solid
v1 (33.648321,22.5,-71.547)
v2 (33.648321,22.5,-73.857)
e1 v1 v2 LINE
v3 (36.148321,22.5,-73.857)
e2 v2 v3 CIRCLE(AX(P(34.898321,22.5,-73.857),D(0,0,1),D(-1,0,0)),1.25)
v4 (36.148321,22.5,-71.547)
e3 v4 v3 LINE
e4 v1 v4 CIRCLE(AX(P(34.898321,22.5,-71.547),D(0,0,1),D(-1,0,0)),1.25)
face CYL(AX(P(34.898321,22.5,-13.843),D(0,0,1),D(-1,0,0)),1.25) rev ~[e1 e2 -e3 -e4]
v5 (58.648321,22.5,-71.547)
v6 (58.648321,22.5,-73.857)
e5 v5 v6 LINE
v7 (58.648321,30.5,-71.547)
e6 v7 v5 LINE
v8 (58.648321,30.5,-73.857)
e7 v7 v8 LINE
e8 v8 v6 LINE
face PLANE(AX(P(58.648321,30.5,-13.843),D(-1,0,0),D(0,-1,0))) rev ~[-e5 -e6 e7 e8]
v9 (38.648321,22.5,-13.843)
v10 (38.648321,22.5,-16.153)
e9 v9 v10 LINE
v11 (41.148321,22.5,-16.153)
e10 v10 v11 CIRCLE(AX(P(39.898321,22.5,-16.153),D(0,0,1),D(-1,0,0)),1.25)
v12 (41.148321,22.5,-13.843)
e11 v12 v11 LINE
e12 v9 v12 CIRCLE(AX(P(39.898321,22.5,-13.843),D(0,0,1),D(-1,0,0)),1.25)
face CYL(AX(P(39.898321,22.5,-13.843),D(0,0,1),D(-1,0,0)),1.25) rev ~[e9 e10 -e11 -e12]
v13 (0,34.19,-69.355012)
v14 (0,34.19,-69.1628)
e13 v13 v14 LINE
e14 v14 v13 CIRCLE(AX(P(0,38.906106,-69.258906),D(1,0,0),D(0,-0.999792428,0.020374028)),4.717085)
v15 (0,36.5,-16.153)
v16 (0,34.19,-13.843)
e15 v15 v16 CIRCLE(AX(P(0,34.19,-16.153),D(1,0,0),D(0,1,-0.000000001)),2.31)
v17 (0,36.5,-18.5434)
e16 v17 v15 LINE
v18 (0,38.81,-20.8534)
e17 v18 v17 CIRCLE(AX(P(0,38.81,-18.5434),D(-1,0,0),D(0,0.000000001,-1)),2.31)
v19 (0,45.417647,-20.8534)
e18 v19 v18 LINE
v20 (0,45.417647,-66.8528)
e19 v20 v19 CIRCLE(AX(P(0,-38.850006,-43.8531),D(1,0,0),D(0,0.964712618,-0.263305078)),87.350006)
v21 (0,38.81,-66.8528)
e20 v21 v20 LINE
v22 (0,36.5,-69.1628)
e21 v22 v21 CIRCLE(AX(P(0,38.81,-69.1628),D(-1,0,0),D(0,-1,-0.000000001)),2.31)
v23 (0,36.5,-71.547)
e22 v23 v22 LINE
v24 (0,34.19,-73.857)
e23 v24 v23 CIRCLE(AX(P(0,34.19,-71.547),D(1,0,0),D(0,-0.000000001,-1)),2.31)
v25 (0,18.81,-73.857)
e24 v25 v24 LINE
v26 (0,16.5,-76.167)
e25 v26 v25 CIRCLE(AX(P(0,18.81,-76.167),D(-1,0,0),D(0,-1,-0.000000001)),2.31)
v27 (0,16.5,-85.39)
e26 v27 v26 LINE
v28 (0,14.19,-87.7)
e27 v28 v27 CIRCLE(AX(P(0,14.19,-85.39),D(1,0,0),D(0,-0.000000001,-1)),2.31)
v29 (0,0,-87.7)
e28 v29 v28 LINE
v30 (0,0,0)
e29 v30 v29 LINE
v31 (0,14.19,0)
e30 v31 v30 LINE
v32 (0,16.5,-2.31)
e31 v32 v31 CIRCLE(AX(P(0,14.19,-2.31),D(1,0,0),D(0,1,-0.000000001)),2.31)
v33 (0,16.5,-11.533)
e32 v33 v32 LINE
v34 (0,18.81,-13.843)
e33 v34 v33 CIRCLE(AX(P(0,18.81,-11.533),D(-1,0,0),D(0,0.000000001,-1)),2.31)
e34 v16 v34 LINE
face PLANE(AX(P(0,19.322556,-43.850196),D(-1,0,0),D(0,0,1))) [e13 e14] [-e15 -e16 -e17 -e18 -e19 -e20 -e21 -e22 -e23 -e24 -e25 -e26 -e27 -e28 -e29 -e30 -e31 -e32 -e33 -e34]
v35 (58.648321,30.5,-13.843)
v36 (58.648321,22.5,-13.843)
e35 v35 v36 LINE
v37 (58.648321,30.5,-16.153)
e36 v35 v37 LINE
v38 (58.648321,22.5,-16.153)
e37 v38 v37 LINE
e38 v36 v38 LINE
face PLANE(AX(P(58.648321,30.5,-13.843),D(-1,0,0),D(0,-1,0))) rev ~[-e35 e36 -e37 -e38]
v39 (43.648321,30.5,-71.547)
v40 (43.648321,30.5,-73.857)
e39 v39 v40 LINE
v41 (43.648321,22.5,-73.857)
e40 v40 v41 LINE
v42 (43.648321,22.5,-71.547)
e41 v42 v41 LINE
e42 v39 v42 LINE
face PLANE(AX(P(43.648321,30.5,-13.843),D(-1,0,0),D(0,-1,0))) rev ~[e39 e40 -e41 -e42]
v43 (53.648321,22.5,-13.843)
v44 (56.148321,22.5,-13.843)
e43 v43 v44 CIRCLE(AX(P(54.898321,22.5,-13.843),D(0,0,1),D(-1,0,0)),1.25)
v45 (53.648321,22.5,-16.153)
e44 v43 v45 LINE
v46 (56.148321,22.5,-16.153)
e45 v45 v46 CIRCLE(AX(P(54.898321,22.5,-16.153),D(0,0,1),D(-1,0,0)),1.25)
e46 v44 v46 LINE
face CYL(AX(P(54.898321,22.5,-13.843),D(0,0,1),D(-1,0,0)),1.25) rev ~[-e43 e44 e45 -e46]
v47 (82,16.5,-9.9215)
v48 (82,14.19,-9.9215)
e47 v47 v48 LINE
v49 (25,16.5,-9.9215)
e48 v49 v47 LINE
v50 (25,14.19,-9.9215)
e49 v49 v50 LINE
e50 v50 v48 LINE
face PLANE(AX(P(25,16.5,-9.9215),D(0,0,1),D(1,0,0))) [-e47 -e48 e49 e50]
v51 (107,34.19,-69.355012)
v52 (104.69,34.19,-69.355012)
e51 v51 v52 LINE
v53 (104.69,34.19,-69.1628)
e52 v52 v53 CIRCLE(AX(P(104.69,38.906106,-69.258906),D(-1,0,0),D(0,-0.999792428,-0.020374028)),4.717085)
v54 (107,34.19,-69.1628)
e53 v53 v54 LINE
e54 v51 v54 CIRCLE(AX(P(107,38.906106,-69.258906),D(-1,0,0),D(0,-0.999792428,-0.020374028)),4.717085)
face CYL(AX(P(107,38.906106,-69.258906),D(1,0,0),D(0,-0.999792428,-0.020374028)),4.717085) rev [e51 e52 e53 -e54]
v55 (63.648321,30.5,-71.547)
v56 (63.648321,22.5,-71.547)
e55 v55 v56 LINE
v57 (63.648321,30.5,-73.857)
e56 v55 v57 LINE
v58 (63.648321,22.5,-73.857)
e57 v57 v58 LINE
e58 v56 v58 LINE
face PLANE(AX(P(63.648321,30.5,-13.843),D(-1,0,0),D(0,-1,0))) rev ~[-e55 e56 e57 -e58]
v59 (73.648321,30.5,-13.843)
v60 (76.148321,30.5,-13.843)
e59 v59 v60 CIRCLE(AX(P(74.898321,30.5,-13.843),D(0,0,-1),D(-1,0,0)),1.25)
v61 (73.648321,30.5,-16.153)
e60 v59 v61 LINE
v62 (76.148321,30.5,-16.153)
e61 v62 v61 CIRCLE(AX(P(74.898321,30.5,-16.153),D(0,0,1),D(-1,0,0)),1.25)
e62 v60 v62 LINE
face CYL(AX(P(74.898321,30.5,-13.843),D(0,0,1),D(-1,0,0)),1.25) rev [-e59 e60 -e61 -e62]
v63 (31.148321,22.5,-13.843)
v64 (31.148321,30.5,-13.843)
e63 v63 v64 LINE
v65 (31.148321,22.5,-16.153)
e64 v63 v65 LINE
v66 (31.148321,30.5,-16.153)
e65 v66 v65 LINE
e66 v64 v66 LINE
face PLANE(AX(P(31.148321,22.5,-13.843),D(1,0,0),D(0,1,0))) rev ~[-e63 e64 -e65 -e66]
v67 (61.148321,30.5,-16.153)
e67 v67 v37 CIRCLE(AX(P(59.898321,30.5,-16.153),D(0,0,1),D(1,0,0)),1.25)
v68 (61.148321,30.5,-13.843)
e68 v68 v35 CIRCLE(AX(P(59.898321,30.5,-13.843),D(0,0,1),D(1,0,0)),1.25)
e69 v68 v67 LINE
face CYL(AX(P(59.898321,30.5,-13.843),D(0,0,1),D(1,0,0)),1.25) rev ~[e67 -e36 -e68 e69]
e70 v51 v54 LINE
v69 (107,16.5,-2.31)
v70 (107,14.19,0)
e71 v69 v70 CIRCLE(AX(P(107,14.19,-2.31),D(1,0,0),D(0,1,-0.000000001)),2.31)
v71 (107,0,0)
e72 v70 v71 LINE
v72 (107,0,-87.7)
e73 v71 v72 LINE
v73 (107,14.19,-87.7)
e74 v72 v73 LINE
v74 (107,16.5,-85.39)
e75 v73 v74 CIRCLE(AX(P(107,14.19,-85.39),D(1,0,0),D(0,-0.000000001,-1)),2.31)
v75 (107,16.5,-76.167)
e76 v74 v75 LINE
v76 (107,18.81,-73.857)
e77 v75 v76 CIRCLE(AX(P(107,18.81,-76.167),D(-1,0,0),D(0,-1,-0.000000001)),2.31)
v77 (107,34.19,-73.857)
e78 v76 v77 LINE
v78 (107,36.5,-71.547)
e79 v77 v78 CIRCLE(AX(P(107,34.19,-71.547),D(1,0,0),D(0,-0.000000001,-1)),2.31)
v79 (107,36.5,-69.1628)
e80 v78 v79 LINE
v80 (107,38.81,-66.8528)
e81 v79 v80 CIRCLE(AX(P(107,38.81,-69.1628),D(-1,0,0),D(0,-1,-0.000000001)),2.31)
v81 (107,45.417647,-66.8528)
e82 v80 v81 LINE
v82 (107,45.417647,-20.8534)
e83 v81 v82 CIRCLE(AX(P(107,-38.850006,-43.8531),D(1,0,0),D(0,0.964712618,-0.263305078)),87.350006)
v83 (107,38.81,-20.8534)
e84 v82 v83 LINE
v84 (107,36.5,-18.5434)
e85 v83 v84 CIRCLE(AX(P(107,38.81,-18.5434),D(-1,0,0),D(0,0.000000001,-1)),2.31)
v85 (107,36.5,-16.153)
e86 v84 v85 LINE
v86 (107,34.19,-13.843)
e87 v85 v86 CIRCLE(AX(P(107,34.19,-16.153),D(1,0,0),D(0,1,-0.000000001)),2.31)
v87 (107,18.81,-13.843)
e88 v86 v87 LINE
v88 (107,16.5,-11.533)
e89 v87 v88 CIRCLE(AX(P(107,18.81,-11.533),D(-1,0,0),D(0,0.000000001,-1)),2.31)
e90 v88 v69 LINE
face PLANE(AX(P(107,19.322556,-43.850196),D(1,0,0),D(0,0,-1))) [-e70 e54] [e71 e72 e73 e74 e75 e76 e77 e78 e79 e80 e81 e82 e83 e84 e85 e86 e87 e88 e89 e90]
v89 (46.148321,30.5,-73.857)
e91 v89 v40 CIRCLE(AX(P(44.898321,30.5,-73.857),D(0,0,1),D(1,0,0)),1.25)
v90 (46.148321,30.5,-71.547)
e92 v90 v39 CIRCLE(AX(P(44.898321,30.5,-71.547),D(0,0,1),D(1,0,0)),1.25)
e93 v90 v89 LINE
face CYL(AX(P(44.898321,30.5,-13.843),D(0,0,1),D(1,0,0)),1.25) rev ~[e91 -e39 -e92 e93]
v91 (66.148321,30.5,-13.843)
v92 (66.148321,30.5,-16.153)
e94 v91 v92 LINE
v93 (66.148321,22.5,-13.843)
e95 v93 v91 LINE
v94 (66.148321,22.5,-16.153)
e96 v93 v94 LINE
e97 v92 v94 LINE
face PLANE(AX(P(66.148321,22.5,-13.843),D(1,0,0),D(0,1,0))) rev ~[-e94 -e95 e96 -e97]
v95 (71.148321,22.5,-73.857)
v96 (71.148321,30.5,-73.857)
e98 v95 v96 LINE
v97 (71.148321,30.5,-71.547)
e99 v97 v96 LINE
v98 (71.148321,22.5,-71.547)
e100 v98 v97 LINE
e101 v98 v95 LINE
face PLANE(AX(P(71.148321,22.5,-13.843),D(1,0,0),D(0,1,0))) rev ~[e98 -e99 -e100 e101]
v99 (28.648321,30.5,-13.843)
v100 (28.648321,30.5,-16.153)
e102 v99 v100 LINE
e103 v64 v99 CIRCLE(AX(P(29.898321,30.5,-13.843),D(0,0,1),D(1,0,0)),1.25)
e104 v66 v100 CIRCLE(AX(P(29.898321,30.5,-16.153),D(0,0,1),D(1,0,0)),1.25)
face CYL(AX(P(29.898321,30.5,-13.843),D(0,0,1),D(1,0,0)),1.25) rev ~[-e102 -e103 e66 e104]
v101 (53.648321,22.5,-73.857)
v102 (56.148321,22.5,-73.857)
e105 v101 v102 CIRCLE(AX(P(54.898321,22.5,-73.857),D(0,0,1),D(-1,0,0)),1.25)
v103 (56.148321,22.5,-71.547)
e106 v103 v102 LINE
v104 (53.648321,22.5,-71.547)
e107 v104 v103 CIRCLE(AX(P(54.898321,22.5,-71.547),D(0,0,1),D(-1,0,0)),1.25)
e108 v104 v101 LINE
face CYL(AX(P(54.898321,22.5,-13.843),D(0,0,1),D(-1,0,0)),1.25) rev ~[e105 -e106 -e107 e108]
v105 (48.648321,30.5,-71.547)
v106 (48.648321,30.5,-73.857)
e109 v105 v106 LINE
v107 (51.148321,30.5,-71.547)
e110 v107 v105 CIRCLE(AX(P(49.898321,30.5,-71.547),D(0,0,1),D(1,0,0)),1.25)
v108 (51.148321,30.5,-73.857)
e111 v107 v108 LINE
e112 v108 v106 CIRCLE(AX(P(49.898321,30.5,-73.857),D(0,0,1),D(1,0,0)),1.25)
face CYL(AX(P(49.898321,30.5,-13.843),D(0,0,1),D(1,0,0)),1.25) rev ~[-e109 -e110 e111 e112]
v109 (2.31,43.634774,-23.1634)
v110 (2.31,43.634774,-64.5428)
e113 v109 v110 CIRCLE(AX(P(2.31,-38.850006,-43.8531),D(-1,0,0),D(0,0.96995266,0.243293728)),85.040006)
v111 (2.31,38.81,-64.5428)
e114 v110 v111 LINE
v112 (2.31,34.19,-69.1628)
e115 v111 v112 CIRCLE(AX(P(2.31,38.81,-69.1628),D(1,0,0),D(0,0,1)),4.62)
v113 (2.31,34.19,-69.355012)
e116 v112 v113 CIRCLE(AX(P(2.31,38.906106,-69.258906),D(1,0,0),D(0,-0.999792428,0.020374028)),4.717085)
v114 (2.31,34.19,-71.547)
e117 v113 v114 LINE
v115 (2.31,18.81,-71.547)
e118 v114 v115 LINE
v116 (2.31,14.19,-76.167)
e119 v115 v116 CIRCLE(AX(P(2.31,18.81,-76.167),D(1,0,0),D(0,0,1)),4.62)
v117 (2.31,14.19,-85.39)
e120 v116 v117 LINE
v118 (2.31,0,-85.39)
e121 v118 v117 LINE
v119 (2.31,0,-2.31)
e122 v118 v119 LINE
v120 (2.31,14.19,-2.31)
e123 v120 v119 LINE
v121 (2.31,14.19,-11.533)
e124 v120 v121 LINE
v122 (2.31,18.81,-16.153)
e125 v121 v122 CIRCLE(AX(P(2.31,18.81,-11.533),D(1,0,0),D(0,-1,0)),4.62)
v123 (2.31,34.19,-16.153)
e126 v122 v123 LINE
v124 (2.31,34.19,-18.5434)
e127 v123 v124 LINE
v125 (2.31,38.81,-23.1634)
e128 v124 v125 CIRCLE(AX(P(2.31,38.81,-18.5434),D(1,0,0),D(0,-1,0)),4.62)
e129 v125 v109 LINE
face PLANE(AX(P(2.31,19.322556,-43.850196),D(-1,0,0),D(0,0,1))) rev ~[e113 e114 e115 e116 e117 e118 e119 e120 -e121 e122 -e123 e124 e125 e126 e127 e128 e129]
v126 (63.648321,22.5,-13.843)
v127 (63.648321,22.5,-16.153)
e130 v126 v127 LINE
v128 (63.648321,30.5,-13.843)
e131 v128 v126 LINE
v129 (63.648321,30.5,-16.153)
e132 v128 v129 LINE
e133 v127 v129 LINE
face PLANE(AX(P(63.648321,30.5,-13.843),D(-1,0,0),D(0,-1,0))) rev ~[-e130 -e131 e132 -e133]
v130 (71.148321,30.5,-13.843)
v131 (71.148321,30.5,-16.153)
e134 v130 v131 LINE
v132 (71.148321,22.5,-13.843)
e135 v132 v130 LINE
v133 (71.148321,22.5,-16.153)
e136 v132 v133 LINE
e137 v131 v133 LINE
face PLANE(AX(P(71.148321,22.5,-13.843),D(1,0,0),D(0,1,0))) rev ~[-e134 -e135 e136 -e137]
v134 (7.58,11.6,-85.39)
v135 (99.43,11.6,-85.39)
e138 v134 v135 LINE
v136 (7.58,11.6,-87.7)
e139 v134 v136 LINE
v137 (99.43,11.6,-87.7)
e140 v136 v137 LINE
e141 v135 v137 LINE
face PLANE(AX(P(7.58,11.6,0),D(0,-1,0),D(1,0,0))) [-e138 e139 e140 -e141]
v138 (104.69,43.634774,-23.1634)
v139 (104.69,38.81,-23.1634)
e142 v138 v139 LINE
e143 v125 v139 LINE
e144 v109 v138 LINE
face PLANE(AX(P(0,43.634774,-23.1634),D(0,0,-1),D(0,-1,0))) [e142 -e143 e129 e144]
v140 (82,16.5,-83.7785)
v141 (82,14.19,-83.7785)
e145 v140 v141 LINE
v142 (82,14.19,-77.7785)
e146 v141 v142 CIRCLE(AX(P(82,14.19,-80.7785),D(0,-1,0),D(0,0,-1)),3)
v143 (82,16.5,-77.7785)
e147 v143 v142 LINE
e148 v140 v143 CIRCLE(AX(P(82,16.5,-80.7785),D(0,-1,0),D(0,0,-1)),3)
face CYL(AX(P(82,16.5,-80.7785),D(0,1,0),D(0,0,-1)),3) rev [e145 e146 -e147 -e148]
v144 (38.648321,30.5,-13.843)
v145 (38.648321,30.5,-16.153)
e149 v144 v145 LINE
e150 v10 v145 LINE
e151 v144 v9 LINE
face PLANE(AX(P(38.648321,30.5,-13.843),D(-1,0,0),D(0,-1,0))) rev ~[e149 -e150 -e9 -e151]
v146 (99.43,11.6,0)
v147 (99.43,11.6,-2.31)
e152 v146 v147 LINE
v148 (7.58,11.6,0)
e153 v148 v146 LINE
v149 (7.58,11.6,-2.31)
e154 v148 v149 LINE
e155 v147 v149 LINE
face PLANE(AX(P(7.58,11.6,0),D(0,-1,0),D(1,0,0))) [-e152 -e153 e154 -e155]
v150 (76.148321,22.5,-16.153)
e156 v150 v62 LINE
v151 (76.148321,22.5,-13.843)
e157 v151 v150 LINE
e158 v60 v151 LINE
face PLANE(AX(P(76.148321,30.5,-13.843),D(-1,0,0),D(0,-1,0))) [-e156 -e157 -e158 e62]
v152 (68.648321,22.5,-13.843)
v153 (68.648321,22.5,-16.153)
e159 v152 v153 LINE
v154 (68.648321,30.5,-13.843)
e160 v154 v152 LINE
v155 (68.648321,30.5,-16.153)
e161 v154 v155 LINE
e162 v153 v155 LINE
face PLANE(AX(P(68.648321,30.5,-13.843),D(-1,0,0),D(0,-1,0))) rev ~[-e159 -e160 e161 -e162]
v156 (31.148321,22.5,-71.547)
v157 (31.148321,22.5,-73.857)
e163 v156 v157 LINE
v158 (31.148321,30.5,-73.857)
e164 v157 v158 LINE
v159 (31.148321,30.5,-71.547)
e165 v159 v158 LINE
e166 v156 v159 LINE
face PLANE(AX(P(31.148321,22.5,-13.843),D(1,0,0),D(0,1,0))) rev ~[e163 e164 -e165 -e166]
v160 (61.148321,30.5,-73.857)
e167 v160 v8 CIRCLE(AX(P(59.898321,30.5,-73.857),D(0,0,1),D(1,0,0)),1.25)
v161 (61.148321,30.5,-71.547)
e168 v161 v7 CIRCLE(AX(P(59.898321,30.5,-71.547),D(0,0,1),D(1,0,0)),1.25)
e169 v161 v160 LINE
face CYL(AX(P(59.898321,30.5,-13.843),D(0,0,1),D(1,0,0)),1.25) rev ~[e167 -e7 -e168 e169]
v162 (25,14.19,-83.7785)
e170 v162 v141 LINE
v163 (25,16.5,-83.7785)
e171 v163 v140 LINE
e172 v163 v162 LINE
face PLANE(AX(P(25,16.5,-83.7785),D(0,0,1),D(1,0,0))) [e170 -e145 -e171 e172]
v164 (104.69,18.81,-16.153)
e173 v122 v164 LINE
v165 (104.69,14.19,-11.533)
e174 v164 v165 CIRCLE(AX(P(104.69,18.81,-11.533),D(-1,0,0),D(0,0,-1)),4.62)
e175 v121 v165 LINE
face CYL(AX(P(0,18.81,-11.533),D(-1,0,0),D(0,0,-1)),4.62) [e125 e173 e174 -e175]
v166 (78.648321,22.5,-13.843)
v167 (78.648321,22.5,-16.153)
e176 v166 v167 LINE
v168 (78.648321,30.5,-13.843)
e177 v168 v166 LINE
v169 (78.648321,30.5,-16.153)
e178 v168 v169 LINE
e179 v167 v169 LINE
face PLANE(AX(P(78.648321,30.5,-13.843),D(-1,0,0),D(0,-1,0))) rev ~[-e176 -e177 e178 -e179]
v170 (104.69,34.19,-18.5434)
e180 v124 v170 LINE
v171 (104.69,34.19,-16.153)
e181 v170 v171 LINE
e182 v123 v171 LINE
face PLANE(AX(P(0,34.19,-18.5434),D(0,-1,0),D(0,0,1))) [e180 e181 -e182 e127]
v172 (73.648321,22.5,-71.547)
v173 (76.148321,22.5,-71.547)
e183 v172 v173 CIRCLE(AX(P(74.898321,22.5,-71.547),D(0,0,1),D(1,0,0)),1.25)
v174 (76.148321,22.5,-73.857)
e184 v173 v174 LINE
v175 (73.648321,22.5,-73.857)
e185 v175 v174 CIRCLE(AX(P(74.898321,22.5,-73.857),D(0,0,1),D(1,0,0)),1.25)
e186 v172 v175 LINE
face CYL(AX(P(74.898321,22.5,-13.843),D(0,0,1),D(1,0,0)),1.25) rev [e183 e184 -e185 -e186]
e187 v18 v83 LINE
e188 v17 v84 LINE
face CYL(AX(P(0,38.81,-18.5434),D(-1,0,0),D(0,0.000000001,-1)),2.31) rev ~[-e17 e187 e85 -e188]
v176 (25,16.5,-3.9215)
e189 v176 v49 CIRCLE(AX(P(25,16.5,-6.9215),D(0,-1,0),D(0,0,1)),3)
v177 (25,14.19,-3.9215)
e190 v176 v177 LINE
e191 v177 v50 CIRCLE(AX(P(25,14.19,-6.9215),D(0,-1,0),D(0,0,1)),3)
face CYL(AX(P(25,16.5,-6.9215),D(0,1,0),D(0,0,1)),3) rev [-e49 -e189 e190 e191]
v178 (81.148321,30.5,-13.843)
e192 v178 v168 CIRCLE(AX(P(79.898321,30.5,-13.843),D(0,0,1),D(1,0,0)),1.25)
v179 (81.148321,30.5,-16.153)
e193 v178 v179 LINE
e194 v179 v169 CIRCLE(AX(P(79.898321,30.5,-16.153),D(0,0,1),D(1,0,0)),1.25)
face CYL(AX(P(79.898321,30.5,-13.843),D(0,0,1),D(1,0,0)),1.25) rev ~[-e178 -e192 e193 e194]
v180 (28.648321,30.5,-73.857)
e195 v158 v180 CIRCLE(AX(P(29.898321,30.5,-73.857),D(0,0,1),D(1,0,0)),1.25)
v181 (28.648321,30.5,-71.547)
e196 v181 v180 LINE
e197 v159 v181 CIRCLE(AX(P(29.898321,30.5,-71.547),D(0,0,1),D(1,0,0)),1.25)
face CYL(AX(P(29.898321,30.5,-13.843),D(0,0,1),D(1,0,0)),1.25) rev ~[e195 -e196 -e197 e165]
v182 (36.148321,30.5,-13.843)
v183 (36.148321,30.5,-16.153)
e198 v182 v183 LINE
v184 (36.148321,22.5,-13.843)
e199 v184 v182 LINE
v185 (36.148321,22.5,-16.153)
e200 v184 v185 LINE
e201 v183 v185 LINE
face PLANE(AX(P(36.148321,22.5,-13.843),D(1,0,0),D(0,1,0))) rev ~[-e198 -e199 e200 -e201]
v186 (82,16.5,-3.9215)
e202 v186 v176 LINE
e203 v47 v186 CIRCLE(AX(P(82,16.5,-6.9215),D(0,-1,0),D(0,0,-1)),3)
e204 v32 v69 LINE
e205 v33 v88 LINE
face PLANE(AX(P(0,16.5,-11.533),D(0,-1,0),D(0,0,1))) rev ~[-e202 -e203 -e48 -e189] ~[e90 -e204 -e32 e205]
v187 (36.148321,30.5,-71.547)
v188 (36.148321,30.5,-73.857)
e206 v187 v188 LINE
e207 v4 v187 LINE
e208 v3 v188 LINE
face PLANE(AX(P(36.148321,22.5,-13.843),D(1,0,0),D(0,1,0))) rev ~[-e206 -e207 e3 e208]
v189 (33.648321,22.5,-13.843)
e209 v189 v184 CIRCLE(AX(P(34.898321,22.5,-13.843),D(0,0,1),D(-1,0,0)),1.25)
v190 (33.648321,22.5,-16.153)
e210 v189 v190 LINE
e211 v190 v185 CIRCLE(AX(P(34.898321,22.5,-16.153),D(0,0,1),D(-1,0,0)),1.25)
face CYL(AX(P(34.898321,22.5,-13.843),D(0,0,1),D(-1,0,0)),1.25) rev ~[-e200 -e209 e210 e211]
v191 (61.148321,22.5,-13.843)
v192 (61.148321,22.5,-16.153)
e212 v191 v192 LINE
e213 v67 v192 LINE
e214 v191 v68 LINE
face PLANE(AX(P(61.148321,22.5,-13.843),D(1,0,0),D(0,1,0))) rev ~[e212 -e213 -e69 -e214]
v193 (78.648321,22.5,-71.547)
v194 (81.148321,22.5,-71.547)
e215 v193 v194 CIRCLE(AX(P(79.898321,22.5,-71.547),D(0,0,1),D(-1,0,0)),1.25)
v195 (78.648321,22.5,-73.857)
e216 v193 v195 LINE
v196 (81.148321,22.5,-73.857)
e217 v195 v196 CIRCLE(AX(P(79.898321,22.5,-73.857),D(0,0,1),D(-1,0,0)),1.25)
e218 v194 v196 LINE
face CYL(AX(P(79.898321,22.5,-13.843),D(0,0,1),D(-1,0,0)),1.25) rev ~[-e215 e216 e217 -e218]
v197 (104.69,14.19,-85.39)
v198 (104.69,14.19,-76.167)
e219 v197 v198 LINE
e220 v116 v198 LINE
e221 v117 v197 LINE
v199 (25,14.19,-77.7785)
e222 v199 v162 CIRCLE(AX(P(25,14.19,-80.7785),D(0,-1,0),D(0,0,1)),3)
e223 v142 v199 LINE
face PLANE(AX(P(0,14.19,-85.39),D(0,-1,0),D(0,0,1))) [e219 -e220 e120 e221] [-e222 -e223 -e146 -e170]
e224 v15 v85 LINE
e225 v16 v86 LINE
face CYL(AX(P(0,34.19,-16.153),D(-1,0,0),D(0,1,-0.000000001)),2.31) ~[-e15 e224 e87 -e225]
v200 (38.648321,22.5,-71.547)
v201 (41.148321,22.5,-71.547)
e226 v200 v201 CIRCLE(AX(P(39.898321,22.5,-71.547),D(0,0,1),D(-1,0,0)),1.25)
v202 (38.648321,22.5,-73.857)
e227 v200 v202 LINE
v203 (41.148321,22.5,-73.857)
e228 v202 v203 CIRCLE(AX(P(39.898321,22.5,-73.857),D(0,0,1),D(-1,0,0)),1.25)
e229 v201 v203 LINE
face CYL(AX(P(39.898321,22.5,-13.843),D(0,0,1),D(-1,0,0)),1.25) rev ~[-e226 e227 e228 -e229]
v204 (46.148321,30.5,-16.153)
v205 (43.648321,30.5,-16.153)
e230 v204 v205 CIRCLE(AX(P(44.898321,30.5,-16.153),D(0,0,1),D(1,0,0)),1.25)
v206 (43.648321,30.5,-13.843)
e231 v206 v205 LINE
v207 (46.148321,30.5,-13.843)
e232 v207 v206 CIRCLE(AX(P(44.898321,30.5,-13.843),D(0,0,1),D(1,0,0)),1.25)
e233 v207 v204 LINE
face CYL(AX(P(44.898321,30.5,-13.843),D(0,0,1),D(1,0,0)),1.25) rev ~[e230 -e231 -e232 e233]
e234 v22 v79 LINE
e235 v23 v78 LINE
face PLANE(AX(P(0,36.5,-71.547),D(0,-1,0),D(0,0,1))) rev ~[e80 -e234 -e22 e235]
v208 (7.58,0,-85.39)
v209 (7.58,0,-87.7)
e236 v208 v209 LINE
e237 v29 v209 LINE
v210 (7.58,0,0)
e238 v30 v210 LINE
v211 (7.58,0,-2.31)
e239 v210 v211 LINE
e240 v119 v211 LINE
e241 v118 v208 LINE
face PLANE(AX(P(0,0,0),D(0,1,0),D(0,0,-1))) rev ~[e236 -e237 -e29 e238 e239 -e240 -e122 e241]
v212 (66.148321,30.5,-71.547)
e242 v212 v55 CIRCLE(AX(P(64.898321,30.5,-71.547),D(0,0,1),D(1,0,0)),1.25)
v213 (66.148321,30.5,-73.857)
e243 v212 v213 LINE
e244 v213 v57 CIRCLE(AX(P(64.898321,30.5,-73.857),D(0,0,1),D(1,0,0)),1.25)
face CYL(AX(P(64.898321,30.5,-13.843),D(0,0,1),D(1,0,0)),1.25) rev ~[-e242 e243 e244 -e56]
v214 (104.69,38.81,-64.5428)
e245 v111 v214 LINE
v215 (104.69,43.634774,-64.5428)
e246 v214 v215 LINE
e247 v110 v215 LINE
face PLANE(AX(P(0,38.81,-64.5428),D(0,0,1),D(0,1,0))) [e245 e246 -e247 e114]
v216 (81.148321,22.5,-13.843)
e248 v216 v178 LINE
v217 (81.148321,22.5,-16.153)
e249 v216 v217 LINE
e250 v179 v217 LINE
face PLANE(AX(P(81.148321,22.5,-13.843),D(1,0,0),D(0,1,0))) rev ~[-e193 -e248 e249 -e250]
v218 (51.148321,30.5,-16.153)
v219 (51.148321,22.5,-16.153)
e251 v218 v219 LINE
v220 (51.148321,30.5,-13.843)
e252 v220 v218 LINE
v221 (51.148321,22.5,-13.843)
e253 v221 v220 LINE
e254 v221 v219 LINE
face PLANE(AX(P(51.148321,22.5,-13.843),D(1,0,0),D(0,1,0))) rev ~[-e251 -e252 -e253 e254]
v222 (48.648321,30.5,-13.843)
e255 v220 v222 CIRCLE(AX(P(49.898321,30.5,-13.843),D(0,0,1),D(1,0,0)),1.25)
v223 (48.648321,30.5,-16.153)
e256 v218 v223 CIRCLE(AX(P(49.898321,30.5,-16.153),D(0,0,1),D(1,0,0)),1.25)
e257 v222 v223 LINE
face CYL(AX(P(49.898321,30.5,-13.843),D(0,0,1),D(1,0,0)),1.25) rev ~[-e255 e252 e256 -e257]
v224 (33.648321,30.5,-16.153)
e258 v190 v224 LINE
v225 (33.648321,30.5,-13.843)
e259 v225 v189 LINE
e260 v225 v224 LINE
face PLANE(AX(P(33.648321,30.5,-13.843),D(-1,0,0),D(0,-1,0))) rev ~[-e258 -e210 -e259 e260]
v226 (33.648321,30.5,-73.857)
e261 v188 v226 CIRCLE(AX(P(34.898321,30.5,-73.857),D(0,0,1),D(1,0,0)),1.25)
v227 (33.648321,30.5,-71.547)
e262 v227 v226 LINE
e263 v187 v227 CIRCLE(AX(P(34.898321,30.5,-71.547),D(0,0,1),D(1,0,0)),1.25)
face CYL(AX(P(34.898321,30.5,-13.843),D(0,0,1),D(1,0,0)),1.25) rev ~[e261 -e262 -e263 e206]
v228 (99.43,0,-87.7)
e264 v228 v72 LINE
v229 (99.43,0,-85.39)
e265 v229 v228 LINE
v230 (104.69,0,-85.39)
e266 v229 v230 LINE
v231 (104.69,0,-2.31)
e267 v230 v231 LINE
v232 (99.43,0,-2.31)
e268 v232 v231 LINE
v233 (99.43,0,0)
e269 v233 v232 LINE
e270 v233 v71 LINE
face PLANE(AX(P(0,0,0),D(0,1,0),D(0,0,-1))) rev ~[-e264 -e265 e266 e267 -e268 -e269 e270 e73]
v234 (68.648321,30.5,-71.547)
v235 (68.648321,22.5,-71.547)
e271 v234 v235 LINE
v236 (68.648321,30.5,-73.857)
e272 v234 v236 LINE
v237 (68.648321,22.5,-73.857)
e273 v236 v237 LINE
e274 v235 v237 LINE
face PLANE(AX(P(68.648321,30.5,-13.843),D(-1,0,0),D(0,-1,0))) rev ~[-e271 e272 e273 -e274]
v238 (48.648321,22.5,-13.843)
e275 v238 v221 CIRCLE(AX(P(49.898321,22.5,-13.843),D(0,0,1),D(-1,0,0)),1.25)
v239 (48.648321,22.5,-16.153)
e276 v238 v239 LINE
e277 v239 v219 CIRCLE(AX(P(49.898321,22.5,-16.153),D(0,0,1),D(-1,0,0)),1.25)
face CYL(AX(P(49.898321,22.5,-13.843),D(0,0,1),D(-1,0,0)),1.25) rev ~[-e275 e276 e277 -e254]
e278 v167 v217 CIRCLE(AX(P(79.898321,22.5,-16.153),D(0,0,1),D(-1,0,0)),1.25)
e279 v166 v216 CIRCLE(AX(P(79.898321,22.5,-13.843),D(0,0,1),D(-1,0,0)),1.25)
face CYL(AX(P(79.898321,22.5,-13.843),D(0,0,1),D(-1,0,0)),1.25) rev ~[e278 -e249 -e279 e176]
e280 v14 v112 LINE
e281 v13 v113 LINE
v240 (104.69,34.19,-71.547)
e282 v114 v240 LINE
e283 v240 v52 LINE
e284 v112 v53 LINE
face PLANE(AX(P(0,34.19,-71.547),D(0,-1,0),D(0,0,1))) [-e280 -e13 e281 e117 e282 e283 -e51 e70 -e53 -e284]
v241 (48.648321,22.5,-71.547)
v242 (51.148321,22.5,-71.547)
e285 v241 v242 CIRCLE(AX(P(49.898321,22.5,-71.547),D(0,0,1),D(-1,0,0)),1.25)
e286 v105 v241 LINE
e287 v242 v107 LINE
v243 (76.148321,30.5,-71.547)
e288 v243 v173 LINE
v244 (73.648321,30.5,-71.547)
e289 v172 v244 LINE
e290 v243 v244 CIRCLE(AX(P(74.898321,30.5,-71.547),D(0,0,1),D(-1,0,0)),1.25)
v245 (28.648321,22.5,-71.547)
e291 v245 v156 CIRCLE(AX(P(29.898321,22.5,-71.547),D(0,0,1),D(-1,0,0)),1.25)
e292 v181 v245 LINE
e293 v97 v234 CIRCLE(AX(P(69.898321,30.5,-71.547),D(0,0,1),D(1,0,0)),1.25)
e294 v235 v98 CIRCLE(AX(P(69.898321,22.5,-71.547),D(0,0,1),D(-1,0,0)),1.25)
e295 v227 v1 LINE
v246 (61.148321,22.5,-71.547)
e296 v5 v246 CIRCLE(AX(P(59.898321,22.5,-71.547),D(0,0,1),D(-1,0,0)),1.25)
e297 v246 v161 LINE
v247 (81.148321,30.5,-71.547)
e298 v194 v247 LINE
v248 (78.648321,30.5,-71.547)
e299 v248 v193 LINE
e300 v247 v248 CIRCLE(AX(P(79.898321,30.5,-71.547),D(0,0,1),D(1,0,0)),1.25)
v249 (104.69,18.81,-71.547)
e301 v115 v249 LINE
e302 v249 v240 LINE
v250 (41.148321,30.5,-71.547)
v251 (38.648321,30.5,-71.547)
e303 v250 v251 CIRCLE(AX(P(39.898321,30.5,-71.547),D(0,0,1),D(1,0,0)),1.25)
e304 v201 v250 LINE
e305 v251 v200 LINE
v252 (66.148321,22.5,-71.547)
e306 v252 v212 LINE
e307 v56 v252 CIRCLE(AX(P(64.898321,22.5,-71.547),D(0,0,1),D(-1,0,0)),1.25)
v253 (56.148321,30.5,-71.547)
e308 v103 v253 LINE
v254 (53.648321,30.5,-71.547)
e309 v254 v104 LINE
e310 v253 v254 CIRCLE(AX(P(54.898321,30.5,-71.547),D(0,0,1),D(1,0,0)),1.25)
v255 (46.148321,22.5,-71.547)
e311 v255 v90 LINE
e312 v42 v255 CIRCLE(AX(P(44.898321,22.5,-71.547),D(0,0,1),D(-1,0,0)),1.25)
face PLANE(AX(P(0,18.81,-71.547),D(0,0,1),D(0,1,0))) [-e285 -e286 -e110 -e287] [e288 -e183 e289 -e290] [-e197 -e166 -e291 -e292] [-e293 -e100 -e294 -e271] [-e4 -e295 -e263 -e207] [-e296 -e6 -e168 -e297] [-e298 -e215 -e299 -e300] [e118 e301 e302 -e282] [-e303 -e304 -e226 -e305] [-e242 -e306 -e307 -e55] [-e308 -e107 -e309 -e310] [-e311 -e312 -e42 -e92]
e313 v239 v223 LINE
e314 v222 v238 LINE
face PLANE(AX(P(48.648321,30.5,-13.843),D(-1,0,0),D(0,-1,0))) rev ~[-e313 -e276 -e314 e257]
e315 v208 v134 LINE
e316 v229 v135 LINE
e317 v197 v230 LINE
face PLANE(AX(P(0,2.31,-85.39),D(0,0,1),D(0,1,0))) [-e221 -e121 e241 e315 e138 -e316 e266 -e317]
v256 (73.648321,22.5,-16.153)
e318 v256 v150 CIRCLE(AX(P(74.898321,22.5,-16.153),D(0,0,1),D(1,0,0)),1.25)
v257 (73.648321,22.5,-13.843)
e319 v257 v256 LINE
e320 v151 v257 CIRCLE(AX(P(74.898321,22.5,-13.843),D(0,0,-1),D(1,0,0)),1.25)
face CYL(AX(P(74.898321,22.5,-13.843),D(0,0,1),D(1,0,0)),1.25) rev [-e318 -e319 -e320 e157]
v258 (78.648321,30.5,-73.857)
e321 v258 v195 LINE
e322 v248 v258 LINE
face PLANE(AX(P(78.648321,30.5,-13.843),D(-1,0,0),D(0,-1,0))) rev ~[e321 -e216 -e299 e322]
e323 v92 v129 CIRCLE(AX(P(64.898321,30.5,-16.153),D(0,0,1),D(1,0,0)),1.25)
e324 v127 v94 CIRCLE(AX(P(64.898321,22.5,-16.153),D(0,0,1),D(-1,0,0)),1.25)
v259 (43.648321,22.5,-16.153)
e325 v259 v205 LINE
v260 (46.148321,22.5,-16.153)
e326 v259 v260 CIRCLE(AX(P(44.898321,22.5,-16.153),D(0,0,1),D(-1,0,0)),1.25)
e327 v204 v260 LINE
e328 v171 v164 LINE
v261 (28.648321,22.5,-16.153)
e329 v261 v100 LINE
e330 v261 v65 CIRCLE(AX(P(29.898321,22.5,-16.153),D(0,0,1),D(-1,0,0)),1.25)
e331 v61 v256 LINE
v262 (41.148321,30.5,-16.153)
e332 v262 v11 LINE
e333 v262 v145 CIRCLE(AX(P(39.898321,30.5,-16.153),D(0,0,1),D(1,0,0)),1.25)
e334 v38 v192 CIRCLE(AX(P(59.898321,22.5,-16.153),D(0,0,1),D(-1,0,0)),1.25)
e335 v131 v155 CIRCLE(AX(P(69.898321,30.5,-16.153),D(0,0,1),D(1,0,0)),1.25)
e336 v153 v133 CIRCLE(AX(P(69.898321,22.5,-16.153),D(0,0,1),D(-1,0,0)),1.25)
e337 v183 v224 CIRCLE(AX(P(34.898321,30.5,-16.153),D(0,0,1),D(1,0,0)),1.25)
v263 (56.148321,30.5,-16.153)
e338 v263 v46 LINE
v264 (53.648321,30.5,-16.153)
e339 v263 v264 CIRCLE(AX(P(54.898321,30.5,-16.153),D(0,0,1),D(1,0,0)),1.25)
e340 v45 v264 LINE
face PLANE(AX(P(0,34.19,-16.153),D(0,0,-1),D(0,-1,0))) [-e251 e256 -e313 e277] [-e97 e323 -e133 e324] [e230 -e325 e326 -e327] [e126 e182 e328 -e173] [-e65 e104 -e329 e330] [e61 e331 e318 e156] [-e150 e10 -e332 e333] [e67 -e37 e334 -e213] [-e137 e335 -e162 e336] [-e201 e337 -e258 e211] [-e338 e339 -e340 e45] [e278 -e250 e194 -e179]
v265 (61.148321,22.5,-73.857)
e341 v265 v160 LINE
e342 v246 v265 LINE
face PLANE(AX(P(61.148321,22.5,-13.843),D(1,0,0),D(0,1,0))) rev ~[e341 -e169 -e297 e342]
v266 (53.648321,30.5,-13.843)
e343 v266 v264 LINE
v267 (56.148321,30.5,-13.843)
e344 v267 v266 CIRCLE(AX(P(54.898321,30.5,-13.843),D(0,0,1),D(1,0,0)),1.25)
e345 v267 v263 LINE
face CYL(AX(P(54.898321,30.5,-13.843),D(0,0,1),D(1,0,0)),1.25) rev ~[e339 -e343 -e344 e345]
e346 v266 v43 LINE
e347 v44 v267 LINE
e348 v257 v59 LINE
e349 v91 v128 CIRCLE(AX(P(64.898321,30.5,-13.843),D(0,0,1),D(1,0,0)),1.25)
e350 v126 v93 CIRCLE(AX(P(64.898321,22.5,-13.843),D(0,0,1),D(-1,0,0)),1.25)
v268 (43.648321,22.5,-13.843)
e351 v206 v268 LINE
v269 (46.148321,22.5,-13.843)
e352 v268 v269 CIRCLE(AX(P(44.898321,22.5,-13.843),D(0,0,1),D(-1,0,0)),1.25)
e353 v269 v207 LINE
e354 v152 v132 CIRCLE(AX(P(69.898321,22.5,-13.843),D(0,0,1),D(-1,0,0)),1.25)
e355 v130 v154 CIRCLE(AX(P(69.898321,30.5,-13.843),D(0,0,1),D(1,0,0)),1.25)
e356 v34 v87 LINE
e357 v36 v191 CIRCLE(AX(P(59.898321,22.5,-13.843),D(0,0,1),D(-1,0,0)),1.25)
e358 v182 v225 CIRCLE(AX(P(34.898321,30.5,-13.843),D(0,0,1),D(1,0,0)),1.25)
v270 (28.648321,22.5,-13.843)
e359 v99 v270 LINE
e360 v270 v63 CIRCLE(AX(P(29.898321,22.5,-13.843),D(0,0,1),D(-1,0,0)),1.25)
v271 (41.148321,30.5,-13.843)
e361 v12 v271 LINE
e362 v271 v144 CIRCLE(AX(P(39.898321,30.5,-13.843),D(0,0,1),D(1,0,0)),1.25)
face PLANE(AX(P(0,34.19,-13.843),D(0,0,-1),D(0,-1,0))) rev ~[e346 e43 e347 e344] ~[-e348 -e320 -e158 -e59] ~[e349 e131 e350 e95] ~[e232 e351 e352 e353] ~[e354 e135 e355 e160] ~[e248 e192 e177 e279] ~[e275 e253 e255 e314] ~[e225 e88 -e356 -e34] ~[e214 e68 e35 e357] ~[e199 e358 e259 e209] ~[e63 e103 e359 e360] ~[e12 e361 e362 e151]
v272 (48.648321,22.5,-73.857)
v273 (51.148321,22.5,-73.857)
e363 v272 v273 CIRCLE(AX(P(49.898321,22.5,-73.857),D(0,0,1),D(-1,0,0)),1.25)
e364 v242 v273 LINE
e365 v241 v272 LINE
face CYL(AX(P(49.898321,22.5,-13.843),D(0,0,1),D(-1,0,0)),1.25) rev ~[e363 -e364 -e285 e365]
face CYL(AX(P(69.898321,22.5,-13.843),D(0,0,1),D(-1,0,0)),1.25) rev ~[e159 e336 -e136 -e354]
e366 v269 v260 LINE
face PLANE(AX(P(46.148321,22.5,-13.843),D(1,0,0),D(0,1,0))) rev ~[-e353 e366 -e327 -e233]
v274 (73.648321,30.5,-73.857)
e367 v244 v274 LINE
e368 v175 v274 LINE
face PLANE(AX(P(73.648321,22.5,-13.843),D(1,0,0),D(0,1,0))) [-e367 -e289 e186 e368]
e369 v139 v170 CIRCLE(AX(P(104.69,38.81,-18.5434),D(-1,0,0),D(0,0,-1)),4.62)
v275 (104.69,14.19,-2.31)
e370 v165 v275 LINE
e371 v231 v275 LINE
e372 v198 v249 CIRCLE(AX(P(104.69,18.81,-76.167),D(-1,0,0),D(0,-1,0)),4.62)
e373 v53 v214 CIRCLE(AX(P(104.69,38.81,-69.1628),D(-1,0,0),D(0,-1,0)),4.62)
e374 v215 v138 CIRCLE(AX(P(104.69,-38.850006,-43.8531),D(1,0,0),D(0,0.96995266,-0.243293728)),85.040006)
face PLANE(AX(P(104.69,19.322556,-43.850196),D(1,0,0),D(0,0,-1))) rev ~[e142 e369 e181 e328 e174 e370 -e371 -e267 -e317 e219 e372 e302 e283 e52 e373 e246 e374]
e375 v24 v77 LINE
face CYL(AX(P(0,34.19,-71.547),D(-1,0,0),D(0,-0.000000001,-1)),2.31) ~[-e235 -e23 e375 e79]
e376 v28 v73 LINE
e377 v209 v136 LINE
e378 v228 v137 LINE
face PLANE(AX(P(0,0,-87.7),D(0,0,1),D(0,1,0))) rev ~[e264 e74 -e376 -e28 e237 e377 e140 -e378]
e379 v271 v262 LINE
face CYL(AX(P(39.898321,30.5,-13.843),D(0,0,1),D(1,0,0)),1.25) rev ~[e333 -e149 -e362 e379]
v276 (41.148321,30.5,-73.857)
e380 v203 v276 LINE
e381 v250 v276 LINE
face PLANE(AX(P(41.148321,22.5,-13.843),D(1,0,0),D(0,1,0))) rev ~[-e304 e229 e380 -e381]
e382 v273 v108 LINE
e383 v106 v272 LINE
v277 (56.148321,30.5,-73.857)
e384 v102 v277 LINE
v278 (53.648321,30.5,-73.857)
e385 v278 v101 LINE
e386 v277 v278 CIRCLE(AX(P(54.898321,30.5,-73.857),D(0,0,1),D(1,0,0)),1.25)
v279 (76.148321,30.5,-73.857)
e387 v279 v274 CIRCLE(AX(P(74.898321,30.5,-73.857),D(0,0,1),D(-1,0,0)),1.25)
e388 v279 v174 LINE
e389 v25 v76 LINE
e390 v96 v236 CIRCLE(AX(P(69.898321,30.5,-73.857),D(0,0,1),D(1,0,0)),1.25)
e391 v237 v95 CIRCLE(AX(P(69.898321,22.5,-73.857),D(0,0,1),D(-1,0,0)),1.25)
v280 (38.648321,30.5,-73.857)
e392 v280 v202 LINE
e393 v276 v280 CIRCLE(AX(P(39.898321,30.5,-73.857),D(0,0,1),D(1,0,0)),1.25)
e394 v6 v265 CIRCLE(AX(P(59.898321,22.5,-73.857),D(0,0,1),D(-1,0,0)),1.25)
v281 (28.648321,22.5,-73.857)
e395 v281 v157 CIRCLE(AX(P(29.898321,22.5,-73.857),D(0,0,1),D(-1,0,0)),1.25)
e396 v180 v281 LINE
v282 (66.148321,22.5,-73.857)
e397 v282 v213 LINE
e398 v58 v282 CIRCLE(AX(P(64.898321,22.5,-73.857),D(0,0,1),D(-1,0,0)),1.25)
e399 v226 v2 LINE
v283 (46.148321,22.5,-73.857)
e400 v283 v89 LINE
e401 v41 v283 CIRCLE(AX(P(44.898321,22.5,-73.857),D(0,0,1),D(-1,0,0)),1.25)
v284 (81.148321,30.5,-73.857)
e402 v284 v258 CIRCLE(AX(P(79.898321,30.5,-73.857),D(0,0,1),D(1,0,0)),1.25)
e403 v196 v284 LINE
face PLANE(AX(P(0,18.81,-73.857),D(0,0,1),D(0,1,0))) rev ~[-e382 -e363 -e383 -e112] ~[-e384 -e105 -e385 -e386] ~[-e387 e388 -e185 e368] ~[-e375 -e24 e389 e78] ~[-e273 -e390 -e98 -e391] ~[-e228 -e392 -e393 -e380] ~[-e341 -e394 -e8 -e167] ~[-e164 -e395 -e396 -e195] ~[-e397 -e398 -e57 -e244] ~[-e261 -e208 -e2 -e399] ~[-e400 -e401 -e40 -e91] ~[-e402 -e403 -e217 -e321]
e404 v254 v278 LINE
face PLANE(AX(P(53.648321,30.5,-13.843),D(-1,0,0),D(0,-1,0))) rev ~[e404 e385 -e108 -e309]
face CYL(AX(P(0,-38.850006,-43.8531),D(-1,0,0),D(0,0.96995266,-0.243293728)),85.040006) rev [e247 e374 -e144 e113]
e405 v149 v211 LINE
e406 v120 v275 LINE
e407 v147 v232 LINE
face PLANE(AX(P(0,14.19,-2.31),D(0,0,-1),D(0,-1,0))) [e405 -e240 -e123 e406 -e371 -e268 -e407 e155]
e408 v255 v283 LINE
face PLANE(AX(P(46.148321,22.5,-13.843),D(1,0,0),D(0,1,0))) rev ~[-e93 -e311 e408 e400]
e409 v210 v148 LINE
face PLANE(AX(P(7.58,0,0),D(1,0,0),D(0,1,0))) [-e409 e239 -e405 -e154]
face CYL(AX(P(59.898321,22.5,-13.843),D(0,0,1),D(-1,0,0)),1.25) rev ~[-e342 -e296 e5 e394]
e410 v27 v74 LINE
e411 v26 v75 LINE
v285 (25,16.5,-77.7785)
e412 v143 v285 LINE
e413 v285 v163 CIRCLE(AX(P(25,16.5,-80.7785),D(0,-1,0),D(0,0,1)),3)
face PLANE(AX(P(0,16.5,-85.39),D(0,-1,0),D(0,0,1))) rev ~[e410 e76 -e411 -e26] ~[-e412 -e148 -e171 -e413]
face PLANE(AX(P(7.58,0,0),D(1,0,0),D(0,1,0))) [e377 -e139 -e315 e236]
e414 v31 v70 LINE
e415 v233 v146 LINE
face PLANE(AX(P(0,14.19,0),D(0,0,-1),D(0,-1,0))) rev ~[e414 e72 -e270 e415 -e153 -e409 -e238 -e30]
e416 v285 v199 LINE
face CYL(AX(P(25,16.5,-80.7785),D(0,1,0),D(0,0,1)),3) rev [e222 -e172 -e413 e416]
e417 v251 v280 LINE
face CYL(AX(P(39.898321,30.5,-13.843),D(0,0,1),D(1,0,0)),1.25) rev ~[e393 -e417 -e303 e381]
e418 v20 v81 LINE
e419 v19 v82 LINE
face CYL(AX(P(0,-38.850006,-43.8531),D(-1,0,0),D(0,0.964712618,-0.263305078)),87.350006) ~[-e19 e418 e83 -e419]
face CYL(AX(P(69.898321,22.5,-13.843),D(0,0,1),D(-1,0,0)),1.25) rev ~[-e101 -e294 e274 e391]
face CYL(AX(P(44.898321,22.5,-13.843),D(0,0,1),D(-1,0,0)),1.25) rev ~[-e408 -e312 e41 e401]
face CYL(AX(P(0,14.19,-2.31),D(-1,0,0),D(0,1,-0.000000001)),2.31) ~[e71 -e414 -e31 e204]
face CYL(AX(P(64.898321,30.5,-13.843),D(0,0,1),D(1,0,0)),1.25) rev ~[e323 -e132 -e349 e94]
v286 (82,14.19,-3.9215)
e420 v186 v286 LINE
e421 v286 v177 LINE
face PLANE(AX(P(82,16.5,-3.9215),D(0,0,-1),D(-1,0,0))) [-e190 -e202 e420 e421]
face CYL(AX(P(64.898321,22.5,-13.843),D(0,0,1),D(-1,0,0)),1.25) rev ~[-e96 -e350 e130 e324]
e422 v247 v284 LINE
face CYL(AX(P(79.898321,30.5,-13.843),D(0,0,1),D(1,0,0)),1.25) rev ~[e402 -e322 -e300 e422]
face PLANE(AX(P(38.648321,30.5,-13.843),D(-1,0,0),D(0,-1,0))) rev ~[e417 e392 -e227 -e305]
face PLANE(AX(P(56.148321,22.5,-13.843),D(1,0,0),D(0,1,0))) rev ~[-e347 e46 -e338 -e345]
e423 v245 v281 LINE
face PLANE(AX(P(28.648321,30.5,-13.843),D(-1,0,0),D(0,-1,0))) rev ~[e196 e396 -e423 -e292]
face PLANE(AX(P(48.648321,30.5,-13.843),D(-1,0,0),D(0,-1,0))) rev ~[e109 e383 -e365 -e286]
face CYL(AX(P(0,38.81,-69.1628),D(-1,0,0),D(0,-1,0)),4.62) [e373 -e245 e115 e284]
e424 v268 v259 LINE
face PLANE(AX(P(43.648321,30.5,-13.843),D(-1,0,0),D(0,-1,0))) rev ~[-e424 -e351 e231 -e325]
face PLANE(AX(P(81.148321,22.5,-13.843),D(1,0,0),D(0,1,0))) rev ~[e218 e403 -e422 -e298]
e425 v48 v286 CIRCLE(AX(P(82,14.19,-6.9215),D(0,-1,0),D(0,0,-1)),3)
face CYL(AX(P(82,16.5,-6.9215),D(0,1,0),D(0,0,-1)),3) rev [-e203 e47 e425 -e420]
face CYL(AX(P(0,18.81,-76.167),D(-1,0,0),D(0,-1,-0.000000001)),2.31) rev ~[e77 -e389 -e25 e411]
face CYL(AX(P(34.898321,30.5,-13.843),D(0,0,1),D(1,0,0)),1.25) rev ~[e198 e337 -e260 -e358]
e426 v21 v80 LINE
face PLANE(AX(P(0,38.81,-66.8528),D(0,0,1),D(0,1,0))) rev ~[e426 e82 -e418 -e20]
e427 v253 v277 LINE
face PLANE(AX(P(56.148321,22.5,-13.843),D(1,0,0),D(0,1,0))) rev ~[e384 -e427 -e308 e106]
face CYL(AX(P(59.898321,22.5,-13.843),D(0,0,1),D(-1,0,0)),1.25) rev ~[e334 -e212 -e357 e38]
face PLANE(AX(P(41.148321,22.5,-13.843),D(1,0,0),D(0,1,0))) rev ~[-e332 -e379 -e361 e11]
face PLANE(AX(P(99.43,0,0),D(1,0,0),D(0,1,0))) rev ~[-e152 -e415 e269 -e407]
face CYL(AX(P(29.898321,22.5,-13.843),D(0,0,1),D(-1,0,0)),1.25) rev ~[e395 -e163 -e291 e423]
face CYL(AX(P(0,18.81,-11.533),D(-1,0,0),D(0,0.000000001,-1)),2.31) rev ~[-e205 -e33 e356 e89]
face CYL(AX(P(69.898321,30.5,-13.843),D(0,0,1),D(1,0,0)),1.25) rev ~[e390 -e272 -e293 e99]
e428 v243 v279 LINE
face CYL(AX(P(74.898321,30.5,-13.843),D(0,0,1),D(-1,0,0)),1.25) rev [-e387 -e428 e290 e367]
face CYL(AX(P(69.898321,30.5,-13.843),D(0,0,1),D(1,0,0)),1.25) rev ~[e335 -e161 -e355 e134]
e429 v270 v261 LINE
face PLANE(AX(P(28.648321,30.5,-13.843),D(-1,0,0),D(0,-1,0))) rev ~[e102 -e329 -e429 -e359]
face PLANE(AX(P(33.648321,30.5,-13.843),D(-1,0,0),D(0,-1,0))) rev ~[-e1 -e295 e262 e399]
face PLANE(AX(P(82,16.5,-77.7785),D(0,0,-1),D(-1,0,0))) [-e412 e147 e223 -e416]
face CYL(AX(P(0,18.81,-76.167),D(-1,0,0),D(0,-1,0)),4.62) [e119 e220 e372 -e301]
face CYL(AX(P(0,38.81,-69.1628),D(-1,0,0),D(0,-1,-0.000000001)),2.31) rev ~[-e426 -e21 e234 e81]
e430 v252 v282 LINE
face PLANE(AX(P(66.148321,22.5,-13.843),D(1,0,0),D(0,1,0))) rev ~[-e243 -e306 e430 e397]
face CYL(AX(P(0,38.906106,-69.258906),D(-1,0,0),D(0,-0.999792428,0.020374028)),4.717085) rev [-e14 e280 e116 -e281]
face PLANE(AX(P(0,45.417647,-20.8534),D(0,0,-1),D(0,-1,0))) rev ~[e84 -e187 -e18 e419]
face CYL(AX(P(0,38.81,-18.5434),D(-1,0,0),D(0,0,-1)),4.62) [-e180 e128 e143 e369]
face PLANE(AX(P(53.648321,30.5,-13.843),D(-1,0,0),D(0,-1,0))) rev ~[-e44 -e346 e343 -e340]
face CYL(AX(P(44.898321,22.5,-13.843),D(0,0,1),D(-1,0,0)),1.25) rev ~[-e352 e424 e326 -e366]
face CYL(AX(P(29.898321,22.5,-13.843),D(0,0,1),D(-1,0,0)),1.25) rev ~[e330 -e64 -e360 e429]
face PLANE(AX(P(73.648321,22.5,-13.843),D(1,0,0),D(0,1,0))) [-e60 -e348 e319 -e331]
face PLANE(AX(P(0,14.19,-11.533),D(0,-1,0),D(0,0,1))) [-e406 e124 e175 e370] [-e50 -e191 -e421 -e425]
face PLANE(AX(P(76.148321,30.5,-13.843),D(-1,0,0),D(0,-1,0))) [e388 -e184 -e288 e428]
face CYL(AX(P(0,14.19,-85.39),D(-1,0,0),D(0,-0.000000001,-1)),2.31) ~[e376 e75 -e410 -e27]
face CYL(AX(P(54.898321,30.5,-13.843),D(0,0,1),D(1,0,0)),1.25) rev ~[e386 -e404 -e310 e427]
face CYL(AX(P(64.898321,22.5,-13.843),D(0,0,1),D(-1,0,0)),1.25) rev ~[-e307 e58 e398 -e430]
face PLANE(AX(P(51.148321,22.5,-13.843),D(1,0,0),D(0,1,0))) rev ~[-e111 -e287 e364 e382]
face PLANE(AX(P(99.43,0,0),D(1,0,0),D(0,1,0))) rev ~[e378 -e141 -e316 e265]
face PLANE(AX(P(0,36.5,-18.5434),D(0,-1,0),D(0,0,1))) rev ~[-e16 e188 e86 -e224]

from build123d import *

# Parameters (mm, degrees)
BOSS_EXTRUDE4_DEPTH = 107
BOSS_EXTRUDE5_DEPTH = 2.31
SKETCH7_W           = 102.38
SKETCH7_H           = 83.08
CUT_EXTRUDE4_DEPTH  = 2.31
BOSS_EXTRUDE6_DEPTH = 2.31
CUT_EXTRUDE6_DEPTH  = 2.31
CUT_EXTRUDE7_DEPTH  = 70
SKETCH12_W          = 91.85
SKETCH12_H          = 11.6
CUT_EXTRUDE8_DEPTH  = 90


with BuildPart() as part:
    # Sketch1 → Boss-Extrude4 (new body)
    with BuildSketch(Plane(origin=(0, 0, 0), x_dir=(0, 0, -1), z_dir=(1, 0, 0))):
        with BuildLine():
            Line((0, 0), (87.7, 0))
            Line((87.7, 0), (87.7, 14.19))
            ThreePointArc((87.7, 14.19), (87.023416665, 15.823416665), (85.39, 16.5))
            Line((85.39, 16.5), (76.167, 16.5))
            ThreePointArc((76.167, 16.5), (74.533583335, 17.176583335), (73.857, 18.81))
            Line((73.857, 18.81), (73.857, 34.19))
            ThreePointArc((73.857, 34.19), (73.180416665, 35.823416665), (71.547, 36.5))
            Line((71.547, 36.5), (69.1628, 36.5))
            ThreePointArc((69.1628, 36.5), (67.529383335, 37.176583335), (66.8528, 38.81))
            Line((66.8528, 38.81), (66.8528, 45.417647019))
            ThreePointArc((66.8528, 45.417647019), (43.8531, 48.5), (20.8534, 45.417647019))
            Line((20.8534, 45.417647019), (20.8534, 38.81))
            ThreePointArc((20.8534, 38.81), (20.176816665, 37.176583335), (18.5434, 36.5))
            Line((18.5434, 36.5), (16.153, 36.5))
            ThreePointArc((16.153, 36.5), (14.519583335, 35.823416665), (13.843, 34.19))
            Line((13.843, 34.19), (13.843, 18.81))
            ThreePointArc((13.843, 18.81), (13.166416665, 17.176583335), (11.533, 16.5))
            Line((11.533, 16.5), (2.31, 16.5))
            ThreePointArc((2.31, 16.5), (0.676583335, 15.823416665), (0, 14.19))
            Line((0, 14.19), (0, 0))
        make_face()
        with BuildLine():
            Line((16.153, 34.19), (16.153, 18.81))
            ThreePointArc((16.153, 18.81), (14.799833329, 15.543166671), (11.533, 14.19))
            Line((11.533, 14.19), (2.31, 14.19))
            Line((2.31, 14.19), (2.31, 2.31))
            Line((2.31, 2.31), (85.39, 2.31))
            Line((85.39, 2.31), (85.39, 14.19))
            Line((85.39, 14.19), (76.167, 14.19))
            ThreePointArc((76.167, 14.19), (72.900166671, 15.543166671), (71.547, 18.81))
            Line((71.547, 18.81), (71.547, 34.19))
            Line((71.547, 34.19), (69.1628, 34.19))
            ThreePointArc((69.1628, 34.19), (65.895966671, 35.543166671), (64.5428, 38.81))
            Line((64.5428, 38.81), (64.5428, 43.634774003))
            ThreePointArc((64.5428, 43.634774003), (43.8531, 46.19), (23.1634, 43.634774003))
            Line((23.1634, 43.634774003), (23.1634, 38.81))
            ThreePointArc((23.1634, 38.81), (21.810233329, 35.543166671), (18.5434, 34.19))
            Line((18.5434, 34.19), (16.153, 34.19))
        make_face(mode=Mode.SUBTRACT)
    extrude(amount=BOSS_EXTRUDE4_DEPTH)

    # Sketch6 → Boss-Extrude5 (add)
    with BuildSketch(Plane.ZY):
        with BuildLine():
            Line((-85.39, 14.19), (-85.39, 2.31))
            Line((-85.39, 2.31), (-2.31, 2.31))
            Line((-2.31, 2.31), (-2.31, 14.19))
            Line((-2.31, 14.19), (-11.533, 14.19))
            ThreePointArc((-11.533, 14.19), (-14.799833329, 15.543166671), (-16.153, 18.81))
            Line((-16.153, 18.81), (-16.153, 34.19))
            Line((-16.153, 34.19), (-18.5434, 34.19))
            ThreePointArc((-18.5434, 34.19), (-21.810233329, 35.543166671), (-23.1634, 38.81))
            Line((-23.1634, 38.81), (-23.1634, 43.634774003))
            ThreePointArc((-23.1634, 43.634774003), (-43.8531, 46.19), (-64.5428, 43.634774003))
            Line((-64.5428, 43.634774003), (-64.5428, 38.81))
            ThreePointArc((-64.5428, 38.81), (-65.895966671, 35.543166671), (-69.1628, 34.19))
            ThreePointArc((-69.1628, 34.19), (-69.258906021, 34.189020865), (-69.355012042, 34.19))
            Line((-69.355012042, 34.19), (-71.547, 34.19))
            Line((-71.547, 34.19), (-71.547, 18.81))
            ThreePointArc((-71.547, 18.81), (-72.900166671, 15.543166671), (-76.167, 14.19))
            Line((-76.167, 14.19), (-85.39, 14.19))
        make_face()
    extrude(amount=-BOSS_EXTRUDE5_DEPTH)

    # Sketch7 → Cut-Extrude4 (cut)
    with BuildSketch(Plane.XZ):
        with Locations((53.5, -43.85)):
            Rectangle(SKETCH7_W, SKETCH7_H)
    extrude(amount=-CUT_EXTRUDE4_DEPTH, mode=Mode.SUBTRACT)

    # Sketch8 → Boss-Extrude6 (add)
    with BuildSketch(Plane(origin=(107, 0, 0), x_dir=(0, 0, -1), z_dir=(1, 0, 0))):
        with BuildLine():
            Line((2.31, 14.19), (2.31, 2.31))
            Line((2.31, 2.31), (85.39, 2.31))
            Line((85.39, 2.31), (85.39, 14.19))
            Line((85.39, 14.19), (76.167, 14.19))
            ThreePointArc((76.167, 14.19), (72.900166671, 15.543166671), (71.547, 18.81))
            Line((71.547, 18.81), (71.547, 34.19))
            Line((71.547, 34.19), (69.355012042, 34.19))
            ThreePointArc((69.355012042, 34.19), (69.258906021, 34.189020865), (69.1628, 34.19))
            ThreePointArc((69.1628, 34.19), (65.895966671, 35.543166671), (64.5428, 38.81))
            Line((64.5428, 38.81), (64.5428, 43.634774003))
            ThreePointArc((64.5428, 43.634774003), (43.8531, 46.19), (23.1634, 43.634774003))
            Line((23.1634, 43.634774003), (23.1634, 38.81))
            ThreePointArc((23.1634, 38.81), (21.810233329, 35.543166671), (18.5434, 34.19))
            Line((18.5434, 34.19), (16.153, 34.19))
            Line((16.153, 34.19), (16.153, 18.81))
            ThreePointArc((16.153, 18.81), (14.799833329, 15.543166671), (11.533, 14.19))
            Line((11.533, 14.19), (2.31, 14.19))
        make_face()
    extrude(amount=-BOSS_EXTRUDE6_DEPTH)

    # Sketch9 → Cut-Extrude6 (cut)
    with BuildSketch(Plane(origin=(0, 16.5, 0), x_dir=(1, 0, 0), z_dir=(0, 1, 0))):
        with BuildLine():
            Line((25, 83.7785), (82, 83.7785))
            ThreePointArc((82, 83.7785), (85, 80.7785), (82, 77.7785))
            Line((82, 77.7785), (25, 77.7785))
            ThreePointArc((25, 77.7785), (22, 80.7785), (25, 83.7785))
        make_face()
        with BuildLine():
            Line((25, 9.9215), (82, 9.9215))
            ThreePointArc((82, 9.9215), (85, 6.9215), (82, 3.9215))
            Line((82, 3.9215), (25, 3.9215))
            ThreePointArc((25, 3.9215), (22, 6.9215), (25, 9.9215))
        make_face()
    extrude(amount=-CUT_EXTRUDE6_DEPTH, mode=Mode.SUBTRACT)

    # Sketch11 → Cut-Extrude7 (cut)
    with BuildSketch(Plane.XY.offset(-13.843)):
        with BuildLine():
            Line((28.648320597, 30.5), (28.648320597, 22.5))
            ThreePointArc((28.648320597, 22.5), (29.898320597, 21.25), (31.148320597, 22.5))
            Line((31.148320597, 22.5), (31.148320597, 30.5))
            ThreePointArc((31.148320597, 30.5), (29.898320597, 31.75), (28.648320597, 30.5))
        make_face()
        with BuildLine():
            Line((38.648320597, 30.5), (38.648320597, 22.5))
            ThreePointArc((38.648320597, 22.5), (39.898320597, 21.25), (41.148320597, 22.5))
            Line((41.148320597, 22.5), (41.148320597, 30.5))
            ThreePointArc((41.148320597, 30.5), (39.898320597, 31.75), (38.648320597, 30.5))
        make_face()
        with BuildLine():
            Line((43.648320597, 30.5), (43.648320597, 22.5))
            ThreePointArc((43.648320597, 22.5), (44.898320597, 21.25), (46.148320597, 22.5))
            Line((46.148320597, 22.5), (46.148320597, 30.5))
            ThreePointArc((46.148320597, 30.5), (44.898320597, 31.75), (43.648320597, 30.5))
        make_face()
        with BuildLine():
            Line((48.648320597, 30.5), (48.648320597, 22.5))
            ThreePointArc((48.648320597, 22.5), (49.898320597, 21.25), (51.148320597, 22.5))
            Line((51.148320597, 22.5), (51.148320597, 30.5))
            ThreePointArc((51.148320597, 30.5), (49.898320597, 31.75), (48.648320597, 30.5))
        make_face()
        with BuildLine():
            Line((58.648320597, 30.5), (58.648320597, 22.5))
            ThreePointArc((58.648320597, 22.5), (59.898320597, 21.25), (61.148320597, 22.5))
            Line((61.148320597, 22.5), (61.148320597, 30.5))
            ThreePointArc((61.148320597, 30.5), (59.898320597, 31.75), (58.648320597, 30.5))
        make_face()
        with BuildLine():
            Line((63.648320597, 30.5), (63.648320597, 22.5))
            ThreePointArc((63.648320597, 22.5), (64.898320597, 21.25), (66.148320597, 22.5))
            Line((66.148320597, 22.5), (66.148320597, 30.5))
            ThreePointArc((66.148320597, 30.5), (64.898320597, 31.75), (63.648320597, 30.5))
        make_face()
        with BuildLine():
            Line((33.648320597, 30.5), (33.648320597, 22.5))
            ThreePointArc((33.648320597, 22.5), (34.898320597, 21.25), (36.148320597, 22.5))
            Line((36.148320597, 22.5), (36.148320597, 30.5))
            ThreePointArc((36.148320597, 30.5), (34.898320597, 31.75), (33.648320597, 30.5))
        make_face()
        with BuildLine():
            Line((53.648320597, 30.5), (53.648320597, 22.5))
            ThreePointArc((53.648320597, 22.5), (54.898320597, 21.25), (56.148320597, 22.5))
            Line((56.148320597, 22.5), (56.148320597, 30.5))
            ThreePointArc((56.148320597, 30.5), (54.898320597, 31.75), (53.648320597, 30.5))
        make_face()
        with BuildLine():
            Line((68.648320597, 30.5), (68.648320597, 22.5))
            ThreePointArc((68.648320597, 22.5), (69.898320597, 21.25), (71.148320597, 22.5))
            Line((71.148320597, 22.5), (71.148320597, 30.5))
            ThreePointArc((71.148320597, 30.5), (69.898320597, 31.75), (68.648320597, 30.5))
        make_face()
        with BuildLine():
            Line((76.148320597, 30.5), (76.148320597, 22.5))
            ThreePointArc((76.148320597, 22.5), (74.898320597, 21.25), (73.648320597, 22.5))
            Line((73.648320597, 22.5), (73.648320597, 30.5))
            ThreePointArc((73.648320597, 30.5), (74.898320597, 31.75), (76.148320597, 30.5))
        make_face()
        with BuildLine():
            Line((78.648320597, 30.5), (78.648320597, 22.5))
            ThreePointArc((78.648320597, 22.5), (79.898320597, 21.25), (81.148320597, 22.5))
            Line((81.148320597, 22.5), (81.148320597, 30.5))
            ThreePointArc((81.148320597, 30.5), (79.898320597, 31.75), (78.648320597, 30.5))
        make_face()
    extrude(amount=-CUT_EXTRUDE7_DEPTH, mode=Mode.SUBTRACT)

    # Sketch12 → Cut-Extrude8 (cut)
    with BuildSketch(Plane.XY):
        with Locations((53.505, 5.8)):
            Rectangle(SKETCH12_W, SKETCH12_H)
    extrude(amount=-CUT_EXTRUDE8_DEPTH, mode=Mode.SUBTRACT)


solid = part.part
